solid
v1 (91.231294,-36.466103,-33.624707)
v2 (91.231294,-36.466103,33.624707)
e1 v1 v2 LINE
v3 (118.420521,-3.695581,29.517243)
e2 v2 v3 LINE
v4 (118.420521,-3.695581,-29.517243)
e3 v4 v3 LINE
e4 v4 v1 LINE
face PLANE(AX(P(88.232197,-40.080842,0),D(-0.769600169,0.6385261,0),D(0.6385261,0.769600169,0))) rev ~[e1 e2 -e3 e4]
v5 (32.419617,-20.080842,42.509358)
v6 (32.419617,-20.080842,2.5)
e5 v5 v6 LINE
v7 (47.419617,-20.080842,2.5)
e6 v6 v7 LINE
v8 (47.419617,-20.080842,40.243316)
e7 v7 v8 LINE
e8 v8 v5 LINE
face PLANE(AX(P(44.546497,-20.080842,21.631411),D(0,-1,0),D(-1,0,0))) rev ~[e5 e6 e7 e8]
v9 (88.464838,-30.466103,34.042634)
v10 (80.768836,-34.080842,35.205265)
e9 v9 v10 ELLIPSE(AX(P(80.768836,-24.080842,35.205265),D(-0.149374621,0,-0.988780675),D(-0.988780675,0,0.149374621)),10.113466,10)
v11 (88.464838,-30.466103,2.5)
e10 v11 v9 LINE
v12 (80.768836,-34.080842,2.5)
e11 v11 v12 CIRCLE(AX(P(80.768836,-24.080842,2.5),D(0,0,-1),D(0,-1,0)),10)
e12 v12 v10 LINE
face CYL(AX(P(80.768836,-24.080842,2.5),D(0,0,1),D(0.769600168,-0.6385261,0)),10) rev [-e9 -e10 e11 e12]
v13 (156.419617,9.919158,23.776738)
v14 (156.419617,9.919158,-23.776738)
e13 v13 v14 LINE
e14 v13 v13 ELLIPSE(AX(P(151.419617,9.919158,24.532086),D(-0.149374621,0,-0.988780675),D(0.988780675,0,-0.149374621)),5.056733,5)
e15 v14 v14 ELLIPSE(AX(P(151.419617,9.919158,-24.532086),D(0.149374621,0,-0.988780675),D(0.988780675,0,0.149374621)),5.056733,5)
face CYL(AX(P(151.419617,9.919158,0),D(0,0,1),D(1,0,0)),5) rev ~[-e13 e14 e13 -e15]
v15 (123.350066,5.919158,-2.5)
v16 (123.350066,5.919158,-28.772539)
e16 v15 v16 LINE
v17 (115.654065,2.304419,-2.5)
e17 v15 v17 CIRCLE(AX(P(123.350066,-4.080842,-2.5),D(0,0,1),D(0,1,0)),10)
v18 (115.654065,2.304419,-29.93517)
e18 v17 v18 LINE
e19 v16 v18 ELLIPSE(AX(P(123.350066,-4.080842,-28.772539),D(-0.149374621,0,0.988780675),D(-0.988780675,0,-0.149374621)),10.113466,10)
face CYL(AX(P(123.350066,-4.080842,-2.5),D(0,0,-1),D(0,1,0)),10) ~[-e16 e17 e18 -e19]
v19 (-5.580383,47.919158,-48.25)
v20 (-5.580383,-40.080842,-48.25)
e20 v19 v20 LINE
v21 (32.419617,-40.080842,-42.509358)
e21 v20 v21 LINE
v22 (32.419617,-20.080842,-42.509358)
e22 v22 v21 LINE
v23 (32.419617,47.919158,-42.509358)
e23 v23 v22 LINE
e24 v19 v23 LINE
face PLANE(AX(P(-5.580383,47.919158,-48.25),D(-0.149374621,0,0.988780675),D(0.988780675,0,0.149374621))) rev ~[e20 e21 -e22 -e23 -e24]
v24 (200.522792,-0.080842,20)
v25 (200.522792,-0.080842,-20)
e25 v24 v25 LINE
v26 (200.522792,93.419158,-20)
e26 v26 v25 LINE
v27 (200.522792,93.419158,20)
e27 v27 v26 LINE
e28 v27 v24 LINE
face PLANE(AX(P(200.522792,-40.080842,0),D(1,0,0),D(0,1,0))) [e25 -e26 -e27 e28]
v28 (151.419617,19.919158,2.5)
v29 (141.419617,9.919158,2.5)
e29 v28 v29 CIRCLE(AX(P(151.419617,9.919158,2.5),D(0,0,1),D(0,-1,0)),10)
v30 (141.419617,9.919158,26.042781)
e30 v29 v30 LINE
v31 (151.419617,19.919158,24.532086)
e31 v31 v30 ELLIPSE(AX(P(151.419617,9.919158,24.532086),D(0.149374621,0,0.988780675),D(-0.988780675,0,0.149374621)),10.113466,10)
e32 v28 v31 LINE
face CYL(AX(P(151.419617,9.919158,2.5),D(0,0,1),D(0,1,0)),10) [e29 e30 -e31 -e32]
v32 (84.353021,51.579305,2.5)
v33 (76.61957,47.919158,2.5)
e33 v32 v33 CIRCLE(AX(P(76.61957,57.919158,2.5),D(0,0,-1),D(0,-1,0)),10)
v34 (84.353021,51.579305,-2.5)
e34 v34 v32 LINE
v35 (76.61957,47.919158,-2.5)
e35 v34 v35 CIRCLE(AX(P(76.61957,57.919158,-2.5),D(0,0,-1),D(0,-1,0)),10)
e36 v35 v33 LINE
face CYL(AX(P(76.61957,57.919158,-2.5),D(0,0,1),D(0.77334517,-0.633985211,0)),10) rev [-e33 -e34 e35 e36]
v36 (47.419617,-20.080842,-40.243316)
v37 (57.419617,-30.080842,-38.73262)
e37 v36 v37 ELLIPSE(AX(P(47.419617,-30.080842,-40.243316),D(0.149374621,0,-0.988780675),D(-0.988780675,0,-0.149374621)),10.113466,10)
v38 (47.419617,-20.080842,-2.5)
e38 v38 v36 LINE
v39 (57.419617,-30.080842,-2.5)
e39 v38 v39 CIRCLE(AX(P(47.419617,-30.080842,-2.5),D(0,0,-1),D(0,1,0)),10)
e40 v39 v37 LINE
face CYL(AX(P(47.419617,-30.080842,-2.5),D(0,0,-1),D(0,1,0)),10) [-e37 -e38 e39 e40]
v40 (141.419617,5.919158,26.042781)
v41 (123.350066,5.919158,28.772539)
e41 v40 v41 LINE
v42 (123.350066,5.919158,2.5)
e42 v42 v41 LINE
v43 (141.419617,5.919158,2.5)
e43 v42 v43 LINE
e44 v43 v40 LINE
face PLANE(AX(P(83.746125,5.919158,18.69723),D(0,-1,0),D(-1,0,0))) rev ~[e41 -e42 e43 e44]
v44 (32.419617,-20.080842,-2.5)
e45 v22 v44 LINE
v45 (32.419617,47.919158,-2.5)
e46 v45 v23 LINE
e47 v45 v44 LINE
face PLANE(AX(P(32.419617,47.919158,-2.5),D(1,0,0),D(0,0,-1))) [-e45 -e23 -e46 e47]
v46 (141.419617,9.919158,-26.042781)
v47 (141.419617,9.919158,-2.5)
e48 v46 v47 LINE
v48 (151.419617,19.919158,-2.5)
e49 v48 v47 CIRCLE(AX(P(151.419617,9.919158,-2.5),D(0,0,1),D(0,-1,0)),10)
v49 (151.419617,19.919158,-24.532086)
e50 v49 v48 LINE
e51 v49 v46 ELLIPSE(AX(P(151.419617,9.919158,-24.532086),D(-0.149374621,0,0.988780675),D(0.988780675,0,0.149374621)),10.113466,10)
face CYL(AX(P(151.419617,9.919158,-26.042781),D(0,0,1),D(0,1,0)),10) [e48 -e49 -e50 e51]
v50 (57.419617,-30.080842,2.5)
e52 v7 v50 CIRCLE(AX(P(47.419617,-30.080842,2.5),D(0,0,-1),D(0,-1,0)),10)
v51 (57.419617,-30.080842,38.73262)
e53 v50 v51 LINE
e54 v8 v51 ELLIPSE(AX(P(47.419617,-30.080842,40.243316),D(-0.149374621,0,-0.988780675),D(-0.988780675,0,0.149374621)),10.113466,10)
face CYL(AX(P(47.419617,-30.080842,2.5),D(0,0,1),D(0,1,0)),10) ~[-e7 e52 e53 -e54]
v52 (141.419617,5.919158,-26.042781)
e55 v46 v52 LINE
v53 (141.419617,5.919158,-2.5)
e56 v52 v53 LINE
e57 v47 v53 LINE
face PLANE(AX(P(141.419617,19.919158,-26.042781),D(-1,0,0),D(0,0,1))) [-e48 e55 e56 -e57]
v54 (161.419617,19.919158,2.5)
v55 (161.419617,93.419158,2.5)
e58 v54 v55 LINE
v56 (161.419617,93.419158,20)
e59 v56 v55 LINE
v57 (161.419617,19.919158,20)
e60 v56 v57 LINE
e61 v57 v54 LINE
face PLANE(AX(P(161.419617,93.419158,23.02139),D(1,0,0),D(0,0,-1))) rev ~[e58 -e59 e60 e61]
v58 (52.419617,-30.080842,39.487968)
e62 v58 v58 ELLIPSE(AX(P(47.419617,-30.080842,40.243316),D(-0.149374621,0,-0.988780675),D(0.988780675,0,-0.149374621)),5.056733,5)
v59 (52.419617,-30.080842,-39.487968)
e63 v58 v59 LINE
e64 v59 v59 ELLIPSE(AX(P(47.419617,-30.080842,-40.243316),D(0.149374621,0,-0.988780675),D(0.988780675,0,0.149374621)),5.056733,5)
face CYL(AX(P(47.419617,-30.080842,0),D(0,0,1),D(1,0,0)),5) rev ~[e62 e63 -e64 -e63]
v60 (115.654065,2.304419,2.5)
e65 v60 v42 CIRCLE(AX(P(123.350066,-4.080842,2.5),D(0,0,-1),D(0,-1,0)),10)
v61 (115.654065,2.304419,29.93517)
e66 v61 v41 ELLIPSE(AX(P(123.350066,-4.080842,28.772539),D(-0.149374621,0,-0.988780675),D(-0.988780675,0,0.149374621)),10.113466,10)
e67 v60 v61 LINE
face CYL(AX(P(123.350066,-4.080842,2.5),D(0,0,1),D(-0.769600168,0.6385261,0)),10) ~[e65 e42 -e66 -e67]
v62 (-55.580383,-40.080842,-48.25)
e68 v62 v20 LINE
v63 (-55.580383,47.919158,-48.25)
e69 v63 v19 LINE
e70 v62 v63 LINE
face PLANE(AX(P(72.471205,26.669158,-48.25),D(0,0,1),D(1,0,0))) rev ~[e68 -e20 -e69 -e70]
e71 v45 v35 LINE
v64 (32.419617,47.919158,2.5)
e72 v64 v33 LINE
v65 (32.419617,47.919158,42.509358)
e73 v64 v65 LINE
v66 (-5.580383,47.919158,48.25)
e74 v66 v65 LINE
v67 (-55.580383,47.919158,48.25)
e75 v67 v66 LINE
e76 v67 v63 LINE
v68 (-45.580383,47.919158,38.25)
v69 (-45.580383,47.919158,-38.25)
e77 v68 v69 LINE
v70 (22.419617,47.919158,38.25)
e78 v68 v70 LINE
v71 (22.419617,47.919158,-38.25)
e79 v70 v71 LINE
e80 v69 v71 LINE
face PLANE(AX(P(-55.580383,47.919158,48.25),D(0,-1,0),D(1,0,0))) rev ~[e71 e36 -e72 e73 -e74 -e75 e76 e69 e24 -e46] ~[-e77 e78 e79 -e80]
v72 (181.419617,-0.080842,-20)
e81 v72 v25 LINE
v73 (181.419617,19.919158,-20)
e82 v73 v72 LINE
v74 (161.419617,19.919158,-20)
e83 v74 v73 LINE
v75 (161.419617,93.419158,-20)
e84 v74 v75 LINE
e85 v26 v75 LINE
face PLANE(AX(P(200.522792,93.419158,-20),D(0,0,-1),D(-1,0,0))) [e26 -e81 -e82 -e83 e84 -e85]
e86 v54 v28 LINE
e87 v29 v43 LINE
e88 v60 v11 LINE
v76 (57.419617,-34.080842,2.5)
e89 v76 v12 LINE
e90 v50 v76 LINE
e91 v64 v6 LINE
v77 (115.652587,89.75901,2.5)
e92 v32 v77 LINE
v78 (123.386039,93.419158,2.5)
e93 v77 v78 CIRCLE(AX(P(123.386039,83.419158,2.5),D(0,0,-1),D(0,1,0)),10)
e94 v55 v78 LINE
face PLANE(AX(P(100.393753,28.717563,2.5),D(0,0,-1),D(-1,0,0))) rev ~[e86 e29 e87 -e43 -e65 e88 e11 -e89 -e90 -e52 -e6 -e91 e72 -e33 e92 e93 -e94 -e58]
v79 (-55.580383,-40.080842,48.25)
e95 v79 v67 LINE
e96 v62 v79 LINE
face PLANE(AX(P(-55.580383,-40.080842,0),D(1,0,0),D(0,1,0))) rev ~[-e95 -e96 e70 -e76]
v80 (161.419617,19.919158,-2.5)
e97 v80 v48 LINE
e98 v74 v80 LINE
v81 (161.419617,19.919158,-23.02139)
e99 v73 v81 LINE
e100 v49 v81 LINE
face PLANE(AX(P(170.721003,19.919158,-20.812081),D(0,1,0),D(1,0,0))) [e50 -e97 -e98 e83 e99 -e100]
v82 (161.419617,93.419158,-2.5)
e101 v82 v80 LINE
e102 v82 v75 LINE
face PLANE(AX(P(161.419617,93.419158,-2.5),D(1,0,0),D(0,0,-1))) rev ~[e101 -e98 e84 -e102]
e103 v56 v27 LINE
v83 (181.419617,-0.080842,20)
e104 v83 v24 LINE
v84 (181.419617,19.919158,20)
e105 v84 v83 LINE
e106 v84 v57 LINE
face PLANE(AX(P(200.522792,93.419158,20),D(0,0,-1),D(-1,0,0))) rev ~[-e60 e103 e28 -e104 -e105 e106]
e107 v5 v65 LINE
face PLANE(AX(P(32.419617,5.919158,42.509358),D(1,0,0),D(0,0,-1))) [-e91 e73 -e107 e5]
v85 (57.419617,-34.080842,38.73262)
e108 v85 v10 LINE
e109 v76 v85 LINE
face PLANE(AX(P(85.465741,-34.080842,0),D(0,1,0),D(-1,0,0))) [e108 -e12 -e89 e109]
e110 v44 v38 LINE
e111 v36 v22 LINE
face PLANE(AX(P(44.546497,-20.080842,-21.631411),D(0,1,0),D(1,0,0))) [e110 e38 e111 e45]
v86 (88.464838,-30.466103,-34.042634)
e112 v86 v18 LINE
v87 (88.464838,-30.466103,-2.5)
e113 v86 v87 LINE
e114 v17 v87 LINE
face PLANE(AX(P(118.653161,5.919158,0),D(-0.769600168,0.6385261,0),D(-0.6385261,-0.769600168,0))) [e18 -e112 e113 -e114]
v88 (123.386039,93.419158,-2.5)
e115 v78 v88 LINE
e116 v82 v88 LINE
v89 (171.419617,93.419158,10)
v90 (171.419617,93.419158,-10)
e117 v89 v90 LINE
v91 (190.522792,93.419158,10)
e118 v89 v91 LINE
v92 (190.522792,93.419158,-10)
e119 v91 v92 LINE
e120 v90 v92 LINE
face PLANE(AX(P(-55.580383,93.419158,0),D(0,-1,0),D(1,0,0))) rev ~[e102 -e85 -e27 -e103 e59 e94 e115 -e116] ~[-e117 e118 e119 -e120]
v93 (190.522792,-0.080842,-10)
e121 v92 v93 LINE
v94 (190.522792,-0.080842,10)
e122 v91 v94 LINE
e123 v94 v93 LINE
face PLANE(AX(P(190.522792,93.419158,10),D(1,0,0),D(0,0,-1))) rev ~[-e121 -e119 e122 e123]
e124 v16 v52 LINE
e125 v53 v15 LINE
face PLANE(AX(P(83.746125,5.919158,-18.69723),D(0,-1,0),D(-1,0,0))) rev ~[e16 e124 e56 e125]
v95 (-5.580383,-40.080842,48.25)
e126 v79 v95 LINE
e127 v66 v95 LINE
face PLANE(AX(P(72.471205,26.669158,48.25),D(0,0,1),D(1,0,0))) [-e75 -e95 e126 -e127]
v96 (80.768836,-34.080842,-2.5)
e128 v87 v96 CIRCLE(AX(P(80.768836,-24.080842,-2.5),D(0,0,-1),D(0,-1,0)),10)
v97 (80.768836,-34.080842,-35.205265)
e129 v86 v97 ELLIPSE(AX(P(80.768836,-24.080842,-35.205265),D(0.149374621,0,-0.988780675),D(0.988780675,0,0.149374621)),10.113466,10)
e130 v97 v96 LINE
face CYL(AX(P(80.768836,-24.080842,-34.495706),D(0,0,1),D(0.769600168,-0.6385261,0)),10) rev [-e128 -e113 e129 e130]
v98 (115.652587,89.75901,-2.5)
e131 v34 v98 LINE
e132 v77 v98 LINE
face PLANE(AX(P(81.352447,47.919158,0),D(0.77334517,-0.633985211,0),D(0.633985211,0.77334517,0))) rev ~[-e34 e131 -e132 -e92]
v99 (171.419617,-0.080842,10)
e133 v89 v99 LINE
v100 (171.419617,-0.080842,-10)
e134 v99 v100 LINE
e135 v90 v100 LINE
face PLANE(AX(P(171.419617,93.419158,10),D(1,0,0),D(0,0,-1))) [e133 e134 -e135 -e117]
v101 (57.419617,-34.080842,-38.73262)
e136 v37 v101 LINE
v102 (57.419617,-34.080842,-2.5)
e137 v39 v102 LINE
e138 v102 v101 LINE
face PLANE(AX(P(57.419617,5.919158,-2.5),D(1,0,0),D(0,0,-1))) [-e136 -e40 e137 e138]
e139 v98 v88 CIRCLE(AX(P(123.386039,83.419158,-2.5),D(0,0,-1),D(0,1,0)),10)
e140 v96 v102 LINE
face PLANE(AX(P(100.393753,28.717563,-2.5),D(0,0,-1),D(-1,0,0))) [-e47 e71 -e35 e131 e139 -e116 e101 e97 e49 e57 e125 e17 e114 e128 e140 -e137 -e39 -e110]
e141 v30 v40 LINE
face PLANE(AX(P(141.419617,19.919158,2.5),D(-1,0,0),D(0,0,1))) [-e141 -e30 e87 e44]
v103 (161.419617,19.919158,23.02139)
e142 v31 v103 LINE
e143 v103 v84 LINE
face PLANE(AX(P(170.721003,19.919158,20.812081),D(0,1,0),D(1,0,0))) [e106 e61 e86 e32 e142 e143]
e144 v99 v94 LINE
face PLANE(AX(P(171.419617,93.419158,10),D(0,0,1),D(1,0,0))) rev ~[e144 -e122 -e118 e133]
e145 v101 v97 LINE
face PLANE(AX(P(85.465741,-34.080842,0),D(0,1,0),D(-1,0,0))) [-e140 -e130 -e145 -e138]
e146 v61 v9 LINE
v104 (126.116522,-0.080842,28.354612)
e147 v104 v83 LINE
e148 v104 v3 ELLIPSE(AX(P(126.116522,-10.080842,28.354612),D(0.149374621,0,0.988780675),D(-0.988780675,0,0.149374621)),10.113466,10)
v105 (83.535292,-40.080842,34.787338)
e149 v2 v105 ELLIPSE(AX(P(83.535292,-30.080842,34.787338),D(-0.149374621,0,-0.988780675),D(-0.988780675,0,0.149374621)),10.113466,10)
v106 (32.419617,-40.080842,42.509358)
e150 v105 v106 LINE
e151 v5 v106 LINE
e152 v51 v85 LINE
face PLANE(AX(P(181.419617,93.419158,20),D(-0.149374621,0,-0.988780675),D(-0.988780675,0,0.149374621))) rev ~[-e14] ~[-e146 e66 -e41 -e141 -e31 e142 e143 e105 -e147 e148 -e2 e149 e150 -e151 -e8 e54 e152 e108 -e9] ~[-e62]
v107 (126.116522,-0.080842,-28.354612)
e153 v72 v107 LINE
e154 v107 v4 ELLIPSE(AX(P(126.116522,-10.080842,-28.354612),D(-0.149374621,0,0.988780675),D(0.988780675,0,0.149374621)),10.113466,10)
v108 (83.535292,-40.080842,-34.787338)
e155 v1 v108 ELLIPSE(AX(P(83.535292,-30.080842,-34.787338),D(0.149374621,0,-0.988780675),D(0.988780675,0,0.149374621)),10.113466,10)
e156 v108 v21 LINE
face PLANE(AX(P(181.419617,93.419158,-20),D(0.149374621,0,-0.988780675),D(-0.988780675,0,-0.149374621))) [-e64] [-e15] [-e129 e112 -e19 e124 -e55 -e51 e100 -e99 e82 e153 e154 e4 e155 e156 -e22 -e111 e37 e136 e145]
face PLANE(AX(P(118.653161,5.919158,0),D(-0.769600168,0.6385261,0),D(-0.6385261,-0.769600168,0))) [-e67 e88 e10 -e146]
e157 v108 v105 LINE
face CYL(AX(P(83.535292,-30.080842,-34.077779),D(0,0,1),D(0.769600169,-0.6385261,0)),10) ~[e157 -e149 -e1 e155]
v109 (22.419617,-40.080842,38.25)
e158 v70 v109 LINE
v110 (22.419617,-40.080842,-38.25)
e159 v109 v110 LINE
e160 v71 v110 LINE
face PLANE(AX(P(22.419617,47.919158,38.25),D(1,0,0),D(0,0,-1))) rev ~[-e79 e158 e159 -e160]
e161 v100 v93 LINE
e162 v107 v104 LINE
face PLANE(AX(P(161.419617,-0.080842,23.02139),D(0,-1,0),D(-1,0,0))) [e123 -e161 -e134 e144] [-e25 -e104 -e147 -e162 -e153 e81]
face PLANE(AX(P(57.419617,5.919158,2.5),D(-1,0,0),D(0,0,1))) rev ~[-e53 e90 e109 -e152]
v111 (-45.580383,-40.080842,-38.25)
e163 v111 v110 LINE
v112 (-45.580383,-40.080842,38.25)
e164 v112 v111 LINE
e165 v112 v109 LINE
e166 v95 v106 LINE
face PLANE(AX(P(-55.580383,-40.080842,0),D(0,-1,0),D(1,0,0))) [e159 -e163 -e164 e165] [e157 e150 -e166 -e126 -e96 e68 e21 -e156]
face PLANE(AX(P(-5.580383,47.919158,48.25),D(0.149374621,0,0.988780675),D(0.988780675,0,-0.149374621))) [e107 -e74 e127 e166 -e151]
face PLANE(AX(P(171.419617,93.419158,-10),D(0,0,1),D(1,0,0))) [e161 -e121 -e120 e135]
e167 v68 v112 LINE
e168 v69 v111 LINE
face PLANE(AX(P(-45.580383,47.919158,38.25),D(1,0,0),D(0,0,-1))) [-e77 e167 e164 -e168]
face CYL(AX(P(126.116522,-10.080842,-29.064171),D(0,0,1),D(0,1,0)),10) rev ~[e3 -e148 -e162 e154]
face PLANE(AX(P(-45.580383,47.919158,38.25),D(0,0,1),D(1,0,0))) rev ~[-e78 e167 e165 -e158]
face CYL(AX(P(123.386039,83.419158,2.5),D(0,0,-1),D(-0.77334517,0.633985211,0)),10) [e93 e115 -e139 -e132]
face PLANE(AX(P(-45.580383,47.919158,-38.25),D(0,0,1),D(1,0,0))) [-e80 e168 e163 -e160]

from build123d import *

# Parameters (mm, degrees)
SKETCH1_W                = 256.103174946
SKETCH1_H                = 133.5
BOSS_EXTRUDE1_DEPTH      = 48.25
SKETCH2_W                = 88
SKETCH2_H                = 45.5
CUT_EXTRUDE1_DEPTH       = 96.5
SKETCH4_W                = 39.103174946
SKETCH4_H                = 40
CUT_EXTRUDE2_DEPTH       = 96.5
SKETCH5_W                = 68
SKETCH5_H                = 76.5
CUT_EXTRUDE3_DEPTH       = 88
CUT_EXTRUDE4_DEPTH       = 133.5
CUT_EXTRUDE5_DEPTH       = 88
CUT_EXTRUDE6_DEPTH       = 88
SKETCH9_W                = 19.103174946
SKETCH9_H                = 20
CUT_EXTRUDE7_DEPTH       = 93.5
CUT_EXTRUDE8_DEPTH       = 73.5
CUT_EXTRUDE9_DEPTH       = 45.5
SKETCH17_W               = 46.042780748
SKETCH17_H               = 40
CUT_EXTRUDE12_DEPTH      = 40
CUT_EXTRUDE13_DEPTH      = 28
SKETCH23_W               = 40
SKETCH23_H               = 40
CUT_EXTRUDE20_DEPTH      = 8
SKETCH24_W               = 40
SKETCH24_H               = 40
CUT_EXTRUDE21_DEPTH      = 8
CUT_EXTRUDE22_DEPTH      = 14
CUT_EXTRUDE23_DEPTH      = 14
CUT_EXTRUDE24_DEPTH      = 30
CUT_EXTRUDE24_DEPTH_BACK = 30
SKETCH29_R               = 5
FILLET1_R                = 10
CUT_EXTRUDE25_DEPTH      = 26
CUT_EXTRUDE26_DEPTH      = 26
CUT_EXTRUDE28_DEPTH      = 40
CUT_EXTRUDE29_DEPTH      = 40
CUT_EXTRUDE30_DEPTH      = 40
CUT_EXTRUDE30_DEPTH_BACK = 40
FILLET2_R                = 10
FILLET3_R                = 10
FILLET4_R                = 10
CUT_EXTRUDE31_DEPTH      = 40
CUT_EXTRUDE31_DEPTH_BACK = 40
CUT_EXTRUDE32_DEPTH      = 2.5
CUT_EXTRUDE32_DEPTH_BACK = 2.5
CUT_EXTRUDE33_DEPTH      = 43
CUT_EXTRUDE33_DEPTH_BACK = 43
SKETCH53_R               = 5
BOSS_EXTRUDE4_DEPTH      = 2.5
BOSS_EXTRUDE4_DEPTH_BACK = 2.5
FILLET7_R                = 10


with BuildPart() as part:
    # Sketch1 → Boss-Extrude1 (new, symmetric)
    with BuildSketch(Plane.XY):
        with Locations((72.471204682, 26.669157508)):
            Rectangle(SKETCH1_W, SKETCH1_H)
    extrude(amount=BOSS_EXTRUDE1_DEPTH, both=True)

    # Sketch2 → Cut-Extrude1 (cut)
    with BuildSketch(Plane.XY.offset(48.25)):
        with Locations((-11.580382791, 70.669157508)):
            Rectangle(SKETCH2_W, SKETCH2_H)
    extrude(amount=-CUT_EXTRUDE1_DEPTH, mode=Mode.SUBTRACT)

    # Sketch4 → Cut-Extrude2 (cut)
    with BuildSketch(Plane.XY.offset(48.25)):
        with Locations((180.971204682, -20.080842492)):
            Rectangle(SKETCH4_W, SKETCH4_H)
    extrude(amount=-CUT_EXTRUDE2_DEPTH, mode=Mode.SUBTRACT)

    # Sketch5 → Cut-Extrude3 (cut)
    with BuildSketch(Plane(origin=(0, 47.919157508, 0), x_dir=(1, 0, 0), z_dir=(0, 1, 0))):
        with Locations((-11.580382791, 0)):
            Rectangle(SKETCH5_W, SKETCH5_H)
    extrude(amount=-CUT_EXTRUDE3_DEPTH, mode=Mode.SUBTRACT)

    # Sketch6 → Cut-Extrude4 (cut)
    with BuildSketch(Plane(origin=(0, 93.419157508, 0), x_dir=(1, 0, 0), z_dir=(0, 1, 0))):
        Polygon((200.522792155, 48.25), (200.522792155, 20), (181.419617209, 20), (32.419617209, 42.509358289), (32.419617209, 48.25), align=None)
        Polygon((200.522792155, -48.25), (200.522792155, -20), (181.419617209, -20), (32.419617209, -42.509358289), (32.419617209, -48.25), align=None)
    extrude(amount=-CUT_EXTRUDE4_DEPTH, mode=Mode.SUBTRACT)

    # Sketch7 → Cut-Extrude5 (cut)
    with BuildSketch(Plane(origin=(0, 47.919157508, 0), x_dir=(1, 0, 0), z_dir=(0, 1, 0))):
        Polygon((-5.580382791, 48.25), (32.419617209, 42.509358289), (32.419617209, 48.25), align=None)
    extrude(amount=-CUT_EXTRUDE5_DEPTH, mode=Mode.SUBTRACT)

    # Sketch8 → Cut-Extrude6 (cut)
    with BuildSketch(Plane(origin=(0, 47.919157508, 0), x_dir=(1, 0, 0), z_dir=(0, 1, 0))):
        Polygon((-5.580382791, -48.25), (32.419617209, -42.509358289), (32.419617209, -48.25), align=None)
    extrude(amount=-CUT_EXTRUDE6_DEPTH, mode=Mode.SUBTRACT)

    # Sketch9 → Cut-Extrude7 (cut)
    with BuildSketch(Plane(origin=(0, 93.419157508, 0), x_dir=(1, 0, 0), z_dir=(0, 1, 0))):
        with Locations((180.971204682, 0)):
            Rectangle(SKETCH9_W, SKETCH9_H)
    extrude(amount=-CUT_EXTRUDE7_DEPTH, mode=Mode.SUBTRACT)

    # Sketch10 → Cut-Extrude8 (cut)
    with BuildSketch(Plane(origin=(0, 93.419157508, 0), x_dir=(1, 0, 0), z_dir=(0, 1, 0))):
        Polygon((161.419617209, 20), (181.419617209, 20), (161.419617209, 23.021390374), align=None)
        Polygon((181.419617209, -20), (161.419617209, -20), (161.419617209, -23.021390374), align=None)
    extrude(amount=-CUT_EXTRUDE8_DEPTH, mode=Mode.SUBTRACT)

    # Sketch14 → Cut-Extrude9 (cut)
    with BuildSketch(Plane(origin=(0, 93.419157508, 0), x_dir=(1, 0, 0), z_dir=(0, 1, 0))):
        Polygon((161.419617209, 20), (161.419617209, 2.5), (32.419617209, 2.5), (32.419617209, 42.509358289), (161.419617209, 23.021390374), align=None)
        Polygon((161.419617209, -20), (161.419617209, -2.5), (32.419617209, -2.5), (32.419617209, -42.509358289), (161.419617209, -23.021390374), align=None)
    extrude(amount=-CUT_EXTRUDE9_DEPTH, mode=Mode.SUBTRACT)

    # Sketch17 → Cut-Extrude12 (cut)
    with BuildSketch(Plane(origin=(161.419617209, 0, 0), x_dir=(0, 0, -1), z_dir=(1, 0, 0))):
        with Locations((0, -20.080842492)):
            Rectangle(SKETCH17_W, SKETCH17_H)
    extrude(amount=-CUT_EXTRUDE12_DEPTH, mode=Mode.SUBTRACT)

    # Sketch19 → Cut-Extrude13 (cut)
    with BuildSketch(Plane(origin=(0, 47.919157508, 0), x_dir=(1, 0, 0), z_dir=(0, 1, 0))):
        Polygon((32.419617209, -2.5), (32.419617209, -42.509358289), (161.419617209, -23.021390374), (161.419617209, -20), (161.419617209, -2.5), align=None)
        Polygon((32.419617209, 2.5), (32.419617209, 42.509358289), (161.419617209, 23.021390374), (161.419617209, 2.5), align=None)
    extrude(amount=-CUT_EXTRUDE13_DEPTH, mode=Mode.SUBTRACT)

    # Sketch23 → Cut-Extrude20 (cut)
    with BuildSketch(Plane(origin=(0, 0, 23.021390374), x_dir=(-1, 0, 0), z_dir=(0, 0, -1))):
        with Locations((-141.419617209, -20.080842492)):
            Rectangle(SKETCH23_W, SKETCH23_H)
    extrude(amount=-CUT_EXTRUDE20_DEPTH, mode=Mode.SUBTRACT)

    # Sketch24 → Cut-Extrude21 (cut)
    with BuildSketch(Plane.XY.offset(-23.021390374)):
        with Locations((141.419617209, -20.080842492)):
            Rectangle(SKETCH24_W, SKETCH24_H)
    extrude(amount=-CUT_EXTRUDE21_DEPTH, mode=Mode.SUBTRACT)

    # Sketch26 → Cut-Extrude22 (cut)
    with BuildSketch(Plane(origin=(0, 19.919157508, 0), x_dir=(1, 0, 0), z_dir=(0, 1, 0))):
        Polygon((141.419617209, -2.5), (141.419617209, -26.042780749), (32.419617209, -42.509358289), (32.419617209, -2.5), align=None)
    extrude(amount=-CUT_EXTRUDE22_DEPTH, mode=Mode.SUBTRACT)

    # Sketch27 → Cut-Extrude23 (cut)
    with BuildSketch(Plane(origin=(0, 19.919157508, 0), x_dir=(1, 0, 0), z_dir=(0, 1, 0))):
        Polygon((141.419617209, 2.5), (32.419617209, 2.5), (32.419617209, 42.509358289), (141.419617209, 26.042780749), align=None)
    extrude(amount=-CUT_EXTRUDE23_DEPTH, mode=Mode.SUBTRACT)

    # Sketch29 → Cut-Extrude24 (cut, two sides: drawn at the far end of the back side and taken through both)
    with BuildSketch(Plane.XY.offset(-CUT_EXTRUDE24_DEPTH_BACK)):
        with Locations((151.419617209, 9.919157508)):
            Circle(SKETCH29_R)
    extrude(amount=CUT_EXTRUDE24_DEPTH + CUT_EXTRUDE24_DEPTH_BACK, mode=Mode.SUBTRACT)

    # Fillet1
    fillet1_edges = [part.edges().sort_by_distance(p)[0] for p in [
        (141.419617209, 19.919157508, 14.271390374),
    ]]
    fillet(fillet1_edges, radius=FILLET1_R)

    # Sketch31 → Cut-Extrude25 (cut)
    with BuildSketch(Plane(origin=(0, 5.919157508, 0), x_dir=(1, 0, 0), z_dir=(0, 1, 0))):
        Polygon((32.419617209, -2.5), (57.419617209, -2.5), (57.419617209, -38.732620321), (32.419617209, -42.509358289), align=None)
    extrude(amount=-CUT_EXTRUDE25_DEPTH, mode=Mode.SUBTRACT)

    # Sketch32 → Cut-Extrude26 (cut)
    with BuildSketch(Plane(origin=(0, 5.919157508, 0), x_dir=(1, 0, 0), z_dir=(0, 1, 0))):
        Polygon((32.419617209, 2.5), (57.419617209, 2.5), (57.419617209, 38.732620321), (32.419617209, 42.509358289), align=None)
    extrude(amount=-CUT_EXTRUDE26_DEPTH, mode=Mode.SUBTRACT)

    # Sketch40 → Cut-Extrude28 (cut)
    with BuildSketch(Plane(origin=(0, 5.919157508, 0), x_dir=(1, 0, 0), z_dir=(0, 1, 0))):
        Polygon((57.419617209, 38.732620321), (81.352447073, 35.117099232), (81.352447073, 2.5), (57.419617209, 2.5), align=None)
    extrude(amount=-CUT_EXTRUDE28_DEPTH, mode=Mode.SUBTRACT)

    # Sketch41 → Cut-Extrude29 (cut)
    with BuildSketch(Plane(origin=(0, 5.919157508, 0), x_dir=(1, 0, 0), z_dir=(0, 1, 0))):
        Polygon((57.419617209, -2.5), (57.419617209, -38.732620321), (81.352447073, -35.117099232), (81.352447073, -2.5), align=None)
    extrude(amount=-CUT_EXTRUDE29_DEPTH, mode=Mode.SUBTRACT)

    # Sketch43 → Cut-Extrude30 (cut, two sides: drawn at the far end of the back side and taken through both)
    with BuildSketch(Plane.XY.offset(-CUT_EXTRUDE30_DEPTH_BACK)):
        Polygon((88.23219723, -40.080842492), (121.419617209, -0.080842492), (121.419617209, -40.080842492), align=None)
    extrude(amount=CUT_EXTRUDE30_DEPTH + CUT_EXTRUDE30_DEPTH_BACK, mode=Mode.SUBTRACT)

    # Fillet2
    fillet2_edges = [part.edges().sort_by_distance(p)[0] for p in [
        (88.23219723, -40.080842492, 0),
        (121.419617209, -0.080842492, 0),
    ]]
    fillet(fillet2_edges, radius=FILLET2_R)

    # Fillet3
    fillet3_edges = [part.edges().sort_by_distance(p)[0] for p in [
        (57.419617209, -20.080842492, 20.61631016),
    ]]
    fillet(fillet3_edges, radius=FILLET3_R)

    # Fillet4
    fillet4_edges = [part.edges().sort_by_distance(p)[0] for p in [
        (57.419617209, -20.080842492, -20.61631016),
    ]]
    fillet(fillet4_edges, radius=FILLET4_R)

    # Sketch44 → Cut-Extrude31 (cut, two sides: drawn at the far end of the back side and taken through both)
    with BuildSketch(Plane.XY.offset(-CUT_EXTRUDE31_DEPTH_BACK)):
        Polygon((81.352447073, 5.919157508), (118.653161204, 5.919157508), (85.465741224, -34.080842492), (81.352447073, -34.080842492), align=None)
    extrude(amount=CUT_EXTRUDE31_DEPTH + CUT_EXTRUDE31_DEPTH_BACK, mode=Mode.SUBTRACT)

    # Sketch49 → Cut-Extrude32 (cut, two sides: drawn at the far end of the back side and taken through both)
    with BuildSketch(Plane.XY.offset(-CUT_EXTRUDE32_DEPTH_BACK)):
        Polygon((118.653161204, 5.919157508), (118.653161204, 93.419157508), (32.419617209, 93.419157508), (32.419617209, 47.919157508), (81.352447073, 47.919157508), (81.352447073, 5.919157508), align=None)
    extrude(amount=CUT_EXTRUDE32_DEPTH + CUT_EXTRUDE32_DEPTH_BACK, mode=Mode.SUBTRACT)

    # Sketch53 → Cut-Extrude33 (cut, two sides: drawn at the far end of the back side and taken through both)
    with BuildSketch(Plane.XY.offset(-CUT_EXTRUDE33_DEPTH_BACK)):
        with Locations((47.419617209, -30.080842492)):
            Circle(SKETCH53_R)
    extrude(amount=CUT_EXTRUDE33_DEPTH + CUT_EXTRUDE33_DEPTH_BACK, mode=Mode.SUBTRACT)

    # Sketch55 → Boss-Extrude4 (add, two sides: drawn at the far end of the back side and taken through both)
    with BuildSketch(Plane.XY.offset(-BOSS_EXTRUDE4_DEPTH_BACK)):
        Polygon((81.352447073, 47.919157508), (118.653161204, 93.419157508), (118.653161204, 5.919157508), (85.465741224, -34.080842492), (80.854981216, -34.080842492), align=None)
    extrude(amount=BOSS_EXTRUDE4_DEPTH + BOSS_EXTRUDE4_DEPTH_BACK)

    # Fillet7
    fillet7_edges = [part.edges().sort_by_distance(p)[0] for p in [
        (85.465741224, -34.080842492, -18.497852932),
        (118.653161204, 5.919157508, -15.99104915),
        (141.419617209, 19.919157508, -14.271390374),
        (81.352447073, 47.919157508, 0),
        (118.653161204, 93.419157508, 0),
        (85.465741224, -34.080842492, 18.497852932),
        (118.653161204, 5.919157508, 15.99104915),
    ]]
    fillet(fillet7_edges, radius=FILLET7_R)


solid = part.part
